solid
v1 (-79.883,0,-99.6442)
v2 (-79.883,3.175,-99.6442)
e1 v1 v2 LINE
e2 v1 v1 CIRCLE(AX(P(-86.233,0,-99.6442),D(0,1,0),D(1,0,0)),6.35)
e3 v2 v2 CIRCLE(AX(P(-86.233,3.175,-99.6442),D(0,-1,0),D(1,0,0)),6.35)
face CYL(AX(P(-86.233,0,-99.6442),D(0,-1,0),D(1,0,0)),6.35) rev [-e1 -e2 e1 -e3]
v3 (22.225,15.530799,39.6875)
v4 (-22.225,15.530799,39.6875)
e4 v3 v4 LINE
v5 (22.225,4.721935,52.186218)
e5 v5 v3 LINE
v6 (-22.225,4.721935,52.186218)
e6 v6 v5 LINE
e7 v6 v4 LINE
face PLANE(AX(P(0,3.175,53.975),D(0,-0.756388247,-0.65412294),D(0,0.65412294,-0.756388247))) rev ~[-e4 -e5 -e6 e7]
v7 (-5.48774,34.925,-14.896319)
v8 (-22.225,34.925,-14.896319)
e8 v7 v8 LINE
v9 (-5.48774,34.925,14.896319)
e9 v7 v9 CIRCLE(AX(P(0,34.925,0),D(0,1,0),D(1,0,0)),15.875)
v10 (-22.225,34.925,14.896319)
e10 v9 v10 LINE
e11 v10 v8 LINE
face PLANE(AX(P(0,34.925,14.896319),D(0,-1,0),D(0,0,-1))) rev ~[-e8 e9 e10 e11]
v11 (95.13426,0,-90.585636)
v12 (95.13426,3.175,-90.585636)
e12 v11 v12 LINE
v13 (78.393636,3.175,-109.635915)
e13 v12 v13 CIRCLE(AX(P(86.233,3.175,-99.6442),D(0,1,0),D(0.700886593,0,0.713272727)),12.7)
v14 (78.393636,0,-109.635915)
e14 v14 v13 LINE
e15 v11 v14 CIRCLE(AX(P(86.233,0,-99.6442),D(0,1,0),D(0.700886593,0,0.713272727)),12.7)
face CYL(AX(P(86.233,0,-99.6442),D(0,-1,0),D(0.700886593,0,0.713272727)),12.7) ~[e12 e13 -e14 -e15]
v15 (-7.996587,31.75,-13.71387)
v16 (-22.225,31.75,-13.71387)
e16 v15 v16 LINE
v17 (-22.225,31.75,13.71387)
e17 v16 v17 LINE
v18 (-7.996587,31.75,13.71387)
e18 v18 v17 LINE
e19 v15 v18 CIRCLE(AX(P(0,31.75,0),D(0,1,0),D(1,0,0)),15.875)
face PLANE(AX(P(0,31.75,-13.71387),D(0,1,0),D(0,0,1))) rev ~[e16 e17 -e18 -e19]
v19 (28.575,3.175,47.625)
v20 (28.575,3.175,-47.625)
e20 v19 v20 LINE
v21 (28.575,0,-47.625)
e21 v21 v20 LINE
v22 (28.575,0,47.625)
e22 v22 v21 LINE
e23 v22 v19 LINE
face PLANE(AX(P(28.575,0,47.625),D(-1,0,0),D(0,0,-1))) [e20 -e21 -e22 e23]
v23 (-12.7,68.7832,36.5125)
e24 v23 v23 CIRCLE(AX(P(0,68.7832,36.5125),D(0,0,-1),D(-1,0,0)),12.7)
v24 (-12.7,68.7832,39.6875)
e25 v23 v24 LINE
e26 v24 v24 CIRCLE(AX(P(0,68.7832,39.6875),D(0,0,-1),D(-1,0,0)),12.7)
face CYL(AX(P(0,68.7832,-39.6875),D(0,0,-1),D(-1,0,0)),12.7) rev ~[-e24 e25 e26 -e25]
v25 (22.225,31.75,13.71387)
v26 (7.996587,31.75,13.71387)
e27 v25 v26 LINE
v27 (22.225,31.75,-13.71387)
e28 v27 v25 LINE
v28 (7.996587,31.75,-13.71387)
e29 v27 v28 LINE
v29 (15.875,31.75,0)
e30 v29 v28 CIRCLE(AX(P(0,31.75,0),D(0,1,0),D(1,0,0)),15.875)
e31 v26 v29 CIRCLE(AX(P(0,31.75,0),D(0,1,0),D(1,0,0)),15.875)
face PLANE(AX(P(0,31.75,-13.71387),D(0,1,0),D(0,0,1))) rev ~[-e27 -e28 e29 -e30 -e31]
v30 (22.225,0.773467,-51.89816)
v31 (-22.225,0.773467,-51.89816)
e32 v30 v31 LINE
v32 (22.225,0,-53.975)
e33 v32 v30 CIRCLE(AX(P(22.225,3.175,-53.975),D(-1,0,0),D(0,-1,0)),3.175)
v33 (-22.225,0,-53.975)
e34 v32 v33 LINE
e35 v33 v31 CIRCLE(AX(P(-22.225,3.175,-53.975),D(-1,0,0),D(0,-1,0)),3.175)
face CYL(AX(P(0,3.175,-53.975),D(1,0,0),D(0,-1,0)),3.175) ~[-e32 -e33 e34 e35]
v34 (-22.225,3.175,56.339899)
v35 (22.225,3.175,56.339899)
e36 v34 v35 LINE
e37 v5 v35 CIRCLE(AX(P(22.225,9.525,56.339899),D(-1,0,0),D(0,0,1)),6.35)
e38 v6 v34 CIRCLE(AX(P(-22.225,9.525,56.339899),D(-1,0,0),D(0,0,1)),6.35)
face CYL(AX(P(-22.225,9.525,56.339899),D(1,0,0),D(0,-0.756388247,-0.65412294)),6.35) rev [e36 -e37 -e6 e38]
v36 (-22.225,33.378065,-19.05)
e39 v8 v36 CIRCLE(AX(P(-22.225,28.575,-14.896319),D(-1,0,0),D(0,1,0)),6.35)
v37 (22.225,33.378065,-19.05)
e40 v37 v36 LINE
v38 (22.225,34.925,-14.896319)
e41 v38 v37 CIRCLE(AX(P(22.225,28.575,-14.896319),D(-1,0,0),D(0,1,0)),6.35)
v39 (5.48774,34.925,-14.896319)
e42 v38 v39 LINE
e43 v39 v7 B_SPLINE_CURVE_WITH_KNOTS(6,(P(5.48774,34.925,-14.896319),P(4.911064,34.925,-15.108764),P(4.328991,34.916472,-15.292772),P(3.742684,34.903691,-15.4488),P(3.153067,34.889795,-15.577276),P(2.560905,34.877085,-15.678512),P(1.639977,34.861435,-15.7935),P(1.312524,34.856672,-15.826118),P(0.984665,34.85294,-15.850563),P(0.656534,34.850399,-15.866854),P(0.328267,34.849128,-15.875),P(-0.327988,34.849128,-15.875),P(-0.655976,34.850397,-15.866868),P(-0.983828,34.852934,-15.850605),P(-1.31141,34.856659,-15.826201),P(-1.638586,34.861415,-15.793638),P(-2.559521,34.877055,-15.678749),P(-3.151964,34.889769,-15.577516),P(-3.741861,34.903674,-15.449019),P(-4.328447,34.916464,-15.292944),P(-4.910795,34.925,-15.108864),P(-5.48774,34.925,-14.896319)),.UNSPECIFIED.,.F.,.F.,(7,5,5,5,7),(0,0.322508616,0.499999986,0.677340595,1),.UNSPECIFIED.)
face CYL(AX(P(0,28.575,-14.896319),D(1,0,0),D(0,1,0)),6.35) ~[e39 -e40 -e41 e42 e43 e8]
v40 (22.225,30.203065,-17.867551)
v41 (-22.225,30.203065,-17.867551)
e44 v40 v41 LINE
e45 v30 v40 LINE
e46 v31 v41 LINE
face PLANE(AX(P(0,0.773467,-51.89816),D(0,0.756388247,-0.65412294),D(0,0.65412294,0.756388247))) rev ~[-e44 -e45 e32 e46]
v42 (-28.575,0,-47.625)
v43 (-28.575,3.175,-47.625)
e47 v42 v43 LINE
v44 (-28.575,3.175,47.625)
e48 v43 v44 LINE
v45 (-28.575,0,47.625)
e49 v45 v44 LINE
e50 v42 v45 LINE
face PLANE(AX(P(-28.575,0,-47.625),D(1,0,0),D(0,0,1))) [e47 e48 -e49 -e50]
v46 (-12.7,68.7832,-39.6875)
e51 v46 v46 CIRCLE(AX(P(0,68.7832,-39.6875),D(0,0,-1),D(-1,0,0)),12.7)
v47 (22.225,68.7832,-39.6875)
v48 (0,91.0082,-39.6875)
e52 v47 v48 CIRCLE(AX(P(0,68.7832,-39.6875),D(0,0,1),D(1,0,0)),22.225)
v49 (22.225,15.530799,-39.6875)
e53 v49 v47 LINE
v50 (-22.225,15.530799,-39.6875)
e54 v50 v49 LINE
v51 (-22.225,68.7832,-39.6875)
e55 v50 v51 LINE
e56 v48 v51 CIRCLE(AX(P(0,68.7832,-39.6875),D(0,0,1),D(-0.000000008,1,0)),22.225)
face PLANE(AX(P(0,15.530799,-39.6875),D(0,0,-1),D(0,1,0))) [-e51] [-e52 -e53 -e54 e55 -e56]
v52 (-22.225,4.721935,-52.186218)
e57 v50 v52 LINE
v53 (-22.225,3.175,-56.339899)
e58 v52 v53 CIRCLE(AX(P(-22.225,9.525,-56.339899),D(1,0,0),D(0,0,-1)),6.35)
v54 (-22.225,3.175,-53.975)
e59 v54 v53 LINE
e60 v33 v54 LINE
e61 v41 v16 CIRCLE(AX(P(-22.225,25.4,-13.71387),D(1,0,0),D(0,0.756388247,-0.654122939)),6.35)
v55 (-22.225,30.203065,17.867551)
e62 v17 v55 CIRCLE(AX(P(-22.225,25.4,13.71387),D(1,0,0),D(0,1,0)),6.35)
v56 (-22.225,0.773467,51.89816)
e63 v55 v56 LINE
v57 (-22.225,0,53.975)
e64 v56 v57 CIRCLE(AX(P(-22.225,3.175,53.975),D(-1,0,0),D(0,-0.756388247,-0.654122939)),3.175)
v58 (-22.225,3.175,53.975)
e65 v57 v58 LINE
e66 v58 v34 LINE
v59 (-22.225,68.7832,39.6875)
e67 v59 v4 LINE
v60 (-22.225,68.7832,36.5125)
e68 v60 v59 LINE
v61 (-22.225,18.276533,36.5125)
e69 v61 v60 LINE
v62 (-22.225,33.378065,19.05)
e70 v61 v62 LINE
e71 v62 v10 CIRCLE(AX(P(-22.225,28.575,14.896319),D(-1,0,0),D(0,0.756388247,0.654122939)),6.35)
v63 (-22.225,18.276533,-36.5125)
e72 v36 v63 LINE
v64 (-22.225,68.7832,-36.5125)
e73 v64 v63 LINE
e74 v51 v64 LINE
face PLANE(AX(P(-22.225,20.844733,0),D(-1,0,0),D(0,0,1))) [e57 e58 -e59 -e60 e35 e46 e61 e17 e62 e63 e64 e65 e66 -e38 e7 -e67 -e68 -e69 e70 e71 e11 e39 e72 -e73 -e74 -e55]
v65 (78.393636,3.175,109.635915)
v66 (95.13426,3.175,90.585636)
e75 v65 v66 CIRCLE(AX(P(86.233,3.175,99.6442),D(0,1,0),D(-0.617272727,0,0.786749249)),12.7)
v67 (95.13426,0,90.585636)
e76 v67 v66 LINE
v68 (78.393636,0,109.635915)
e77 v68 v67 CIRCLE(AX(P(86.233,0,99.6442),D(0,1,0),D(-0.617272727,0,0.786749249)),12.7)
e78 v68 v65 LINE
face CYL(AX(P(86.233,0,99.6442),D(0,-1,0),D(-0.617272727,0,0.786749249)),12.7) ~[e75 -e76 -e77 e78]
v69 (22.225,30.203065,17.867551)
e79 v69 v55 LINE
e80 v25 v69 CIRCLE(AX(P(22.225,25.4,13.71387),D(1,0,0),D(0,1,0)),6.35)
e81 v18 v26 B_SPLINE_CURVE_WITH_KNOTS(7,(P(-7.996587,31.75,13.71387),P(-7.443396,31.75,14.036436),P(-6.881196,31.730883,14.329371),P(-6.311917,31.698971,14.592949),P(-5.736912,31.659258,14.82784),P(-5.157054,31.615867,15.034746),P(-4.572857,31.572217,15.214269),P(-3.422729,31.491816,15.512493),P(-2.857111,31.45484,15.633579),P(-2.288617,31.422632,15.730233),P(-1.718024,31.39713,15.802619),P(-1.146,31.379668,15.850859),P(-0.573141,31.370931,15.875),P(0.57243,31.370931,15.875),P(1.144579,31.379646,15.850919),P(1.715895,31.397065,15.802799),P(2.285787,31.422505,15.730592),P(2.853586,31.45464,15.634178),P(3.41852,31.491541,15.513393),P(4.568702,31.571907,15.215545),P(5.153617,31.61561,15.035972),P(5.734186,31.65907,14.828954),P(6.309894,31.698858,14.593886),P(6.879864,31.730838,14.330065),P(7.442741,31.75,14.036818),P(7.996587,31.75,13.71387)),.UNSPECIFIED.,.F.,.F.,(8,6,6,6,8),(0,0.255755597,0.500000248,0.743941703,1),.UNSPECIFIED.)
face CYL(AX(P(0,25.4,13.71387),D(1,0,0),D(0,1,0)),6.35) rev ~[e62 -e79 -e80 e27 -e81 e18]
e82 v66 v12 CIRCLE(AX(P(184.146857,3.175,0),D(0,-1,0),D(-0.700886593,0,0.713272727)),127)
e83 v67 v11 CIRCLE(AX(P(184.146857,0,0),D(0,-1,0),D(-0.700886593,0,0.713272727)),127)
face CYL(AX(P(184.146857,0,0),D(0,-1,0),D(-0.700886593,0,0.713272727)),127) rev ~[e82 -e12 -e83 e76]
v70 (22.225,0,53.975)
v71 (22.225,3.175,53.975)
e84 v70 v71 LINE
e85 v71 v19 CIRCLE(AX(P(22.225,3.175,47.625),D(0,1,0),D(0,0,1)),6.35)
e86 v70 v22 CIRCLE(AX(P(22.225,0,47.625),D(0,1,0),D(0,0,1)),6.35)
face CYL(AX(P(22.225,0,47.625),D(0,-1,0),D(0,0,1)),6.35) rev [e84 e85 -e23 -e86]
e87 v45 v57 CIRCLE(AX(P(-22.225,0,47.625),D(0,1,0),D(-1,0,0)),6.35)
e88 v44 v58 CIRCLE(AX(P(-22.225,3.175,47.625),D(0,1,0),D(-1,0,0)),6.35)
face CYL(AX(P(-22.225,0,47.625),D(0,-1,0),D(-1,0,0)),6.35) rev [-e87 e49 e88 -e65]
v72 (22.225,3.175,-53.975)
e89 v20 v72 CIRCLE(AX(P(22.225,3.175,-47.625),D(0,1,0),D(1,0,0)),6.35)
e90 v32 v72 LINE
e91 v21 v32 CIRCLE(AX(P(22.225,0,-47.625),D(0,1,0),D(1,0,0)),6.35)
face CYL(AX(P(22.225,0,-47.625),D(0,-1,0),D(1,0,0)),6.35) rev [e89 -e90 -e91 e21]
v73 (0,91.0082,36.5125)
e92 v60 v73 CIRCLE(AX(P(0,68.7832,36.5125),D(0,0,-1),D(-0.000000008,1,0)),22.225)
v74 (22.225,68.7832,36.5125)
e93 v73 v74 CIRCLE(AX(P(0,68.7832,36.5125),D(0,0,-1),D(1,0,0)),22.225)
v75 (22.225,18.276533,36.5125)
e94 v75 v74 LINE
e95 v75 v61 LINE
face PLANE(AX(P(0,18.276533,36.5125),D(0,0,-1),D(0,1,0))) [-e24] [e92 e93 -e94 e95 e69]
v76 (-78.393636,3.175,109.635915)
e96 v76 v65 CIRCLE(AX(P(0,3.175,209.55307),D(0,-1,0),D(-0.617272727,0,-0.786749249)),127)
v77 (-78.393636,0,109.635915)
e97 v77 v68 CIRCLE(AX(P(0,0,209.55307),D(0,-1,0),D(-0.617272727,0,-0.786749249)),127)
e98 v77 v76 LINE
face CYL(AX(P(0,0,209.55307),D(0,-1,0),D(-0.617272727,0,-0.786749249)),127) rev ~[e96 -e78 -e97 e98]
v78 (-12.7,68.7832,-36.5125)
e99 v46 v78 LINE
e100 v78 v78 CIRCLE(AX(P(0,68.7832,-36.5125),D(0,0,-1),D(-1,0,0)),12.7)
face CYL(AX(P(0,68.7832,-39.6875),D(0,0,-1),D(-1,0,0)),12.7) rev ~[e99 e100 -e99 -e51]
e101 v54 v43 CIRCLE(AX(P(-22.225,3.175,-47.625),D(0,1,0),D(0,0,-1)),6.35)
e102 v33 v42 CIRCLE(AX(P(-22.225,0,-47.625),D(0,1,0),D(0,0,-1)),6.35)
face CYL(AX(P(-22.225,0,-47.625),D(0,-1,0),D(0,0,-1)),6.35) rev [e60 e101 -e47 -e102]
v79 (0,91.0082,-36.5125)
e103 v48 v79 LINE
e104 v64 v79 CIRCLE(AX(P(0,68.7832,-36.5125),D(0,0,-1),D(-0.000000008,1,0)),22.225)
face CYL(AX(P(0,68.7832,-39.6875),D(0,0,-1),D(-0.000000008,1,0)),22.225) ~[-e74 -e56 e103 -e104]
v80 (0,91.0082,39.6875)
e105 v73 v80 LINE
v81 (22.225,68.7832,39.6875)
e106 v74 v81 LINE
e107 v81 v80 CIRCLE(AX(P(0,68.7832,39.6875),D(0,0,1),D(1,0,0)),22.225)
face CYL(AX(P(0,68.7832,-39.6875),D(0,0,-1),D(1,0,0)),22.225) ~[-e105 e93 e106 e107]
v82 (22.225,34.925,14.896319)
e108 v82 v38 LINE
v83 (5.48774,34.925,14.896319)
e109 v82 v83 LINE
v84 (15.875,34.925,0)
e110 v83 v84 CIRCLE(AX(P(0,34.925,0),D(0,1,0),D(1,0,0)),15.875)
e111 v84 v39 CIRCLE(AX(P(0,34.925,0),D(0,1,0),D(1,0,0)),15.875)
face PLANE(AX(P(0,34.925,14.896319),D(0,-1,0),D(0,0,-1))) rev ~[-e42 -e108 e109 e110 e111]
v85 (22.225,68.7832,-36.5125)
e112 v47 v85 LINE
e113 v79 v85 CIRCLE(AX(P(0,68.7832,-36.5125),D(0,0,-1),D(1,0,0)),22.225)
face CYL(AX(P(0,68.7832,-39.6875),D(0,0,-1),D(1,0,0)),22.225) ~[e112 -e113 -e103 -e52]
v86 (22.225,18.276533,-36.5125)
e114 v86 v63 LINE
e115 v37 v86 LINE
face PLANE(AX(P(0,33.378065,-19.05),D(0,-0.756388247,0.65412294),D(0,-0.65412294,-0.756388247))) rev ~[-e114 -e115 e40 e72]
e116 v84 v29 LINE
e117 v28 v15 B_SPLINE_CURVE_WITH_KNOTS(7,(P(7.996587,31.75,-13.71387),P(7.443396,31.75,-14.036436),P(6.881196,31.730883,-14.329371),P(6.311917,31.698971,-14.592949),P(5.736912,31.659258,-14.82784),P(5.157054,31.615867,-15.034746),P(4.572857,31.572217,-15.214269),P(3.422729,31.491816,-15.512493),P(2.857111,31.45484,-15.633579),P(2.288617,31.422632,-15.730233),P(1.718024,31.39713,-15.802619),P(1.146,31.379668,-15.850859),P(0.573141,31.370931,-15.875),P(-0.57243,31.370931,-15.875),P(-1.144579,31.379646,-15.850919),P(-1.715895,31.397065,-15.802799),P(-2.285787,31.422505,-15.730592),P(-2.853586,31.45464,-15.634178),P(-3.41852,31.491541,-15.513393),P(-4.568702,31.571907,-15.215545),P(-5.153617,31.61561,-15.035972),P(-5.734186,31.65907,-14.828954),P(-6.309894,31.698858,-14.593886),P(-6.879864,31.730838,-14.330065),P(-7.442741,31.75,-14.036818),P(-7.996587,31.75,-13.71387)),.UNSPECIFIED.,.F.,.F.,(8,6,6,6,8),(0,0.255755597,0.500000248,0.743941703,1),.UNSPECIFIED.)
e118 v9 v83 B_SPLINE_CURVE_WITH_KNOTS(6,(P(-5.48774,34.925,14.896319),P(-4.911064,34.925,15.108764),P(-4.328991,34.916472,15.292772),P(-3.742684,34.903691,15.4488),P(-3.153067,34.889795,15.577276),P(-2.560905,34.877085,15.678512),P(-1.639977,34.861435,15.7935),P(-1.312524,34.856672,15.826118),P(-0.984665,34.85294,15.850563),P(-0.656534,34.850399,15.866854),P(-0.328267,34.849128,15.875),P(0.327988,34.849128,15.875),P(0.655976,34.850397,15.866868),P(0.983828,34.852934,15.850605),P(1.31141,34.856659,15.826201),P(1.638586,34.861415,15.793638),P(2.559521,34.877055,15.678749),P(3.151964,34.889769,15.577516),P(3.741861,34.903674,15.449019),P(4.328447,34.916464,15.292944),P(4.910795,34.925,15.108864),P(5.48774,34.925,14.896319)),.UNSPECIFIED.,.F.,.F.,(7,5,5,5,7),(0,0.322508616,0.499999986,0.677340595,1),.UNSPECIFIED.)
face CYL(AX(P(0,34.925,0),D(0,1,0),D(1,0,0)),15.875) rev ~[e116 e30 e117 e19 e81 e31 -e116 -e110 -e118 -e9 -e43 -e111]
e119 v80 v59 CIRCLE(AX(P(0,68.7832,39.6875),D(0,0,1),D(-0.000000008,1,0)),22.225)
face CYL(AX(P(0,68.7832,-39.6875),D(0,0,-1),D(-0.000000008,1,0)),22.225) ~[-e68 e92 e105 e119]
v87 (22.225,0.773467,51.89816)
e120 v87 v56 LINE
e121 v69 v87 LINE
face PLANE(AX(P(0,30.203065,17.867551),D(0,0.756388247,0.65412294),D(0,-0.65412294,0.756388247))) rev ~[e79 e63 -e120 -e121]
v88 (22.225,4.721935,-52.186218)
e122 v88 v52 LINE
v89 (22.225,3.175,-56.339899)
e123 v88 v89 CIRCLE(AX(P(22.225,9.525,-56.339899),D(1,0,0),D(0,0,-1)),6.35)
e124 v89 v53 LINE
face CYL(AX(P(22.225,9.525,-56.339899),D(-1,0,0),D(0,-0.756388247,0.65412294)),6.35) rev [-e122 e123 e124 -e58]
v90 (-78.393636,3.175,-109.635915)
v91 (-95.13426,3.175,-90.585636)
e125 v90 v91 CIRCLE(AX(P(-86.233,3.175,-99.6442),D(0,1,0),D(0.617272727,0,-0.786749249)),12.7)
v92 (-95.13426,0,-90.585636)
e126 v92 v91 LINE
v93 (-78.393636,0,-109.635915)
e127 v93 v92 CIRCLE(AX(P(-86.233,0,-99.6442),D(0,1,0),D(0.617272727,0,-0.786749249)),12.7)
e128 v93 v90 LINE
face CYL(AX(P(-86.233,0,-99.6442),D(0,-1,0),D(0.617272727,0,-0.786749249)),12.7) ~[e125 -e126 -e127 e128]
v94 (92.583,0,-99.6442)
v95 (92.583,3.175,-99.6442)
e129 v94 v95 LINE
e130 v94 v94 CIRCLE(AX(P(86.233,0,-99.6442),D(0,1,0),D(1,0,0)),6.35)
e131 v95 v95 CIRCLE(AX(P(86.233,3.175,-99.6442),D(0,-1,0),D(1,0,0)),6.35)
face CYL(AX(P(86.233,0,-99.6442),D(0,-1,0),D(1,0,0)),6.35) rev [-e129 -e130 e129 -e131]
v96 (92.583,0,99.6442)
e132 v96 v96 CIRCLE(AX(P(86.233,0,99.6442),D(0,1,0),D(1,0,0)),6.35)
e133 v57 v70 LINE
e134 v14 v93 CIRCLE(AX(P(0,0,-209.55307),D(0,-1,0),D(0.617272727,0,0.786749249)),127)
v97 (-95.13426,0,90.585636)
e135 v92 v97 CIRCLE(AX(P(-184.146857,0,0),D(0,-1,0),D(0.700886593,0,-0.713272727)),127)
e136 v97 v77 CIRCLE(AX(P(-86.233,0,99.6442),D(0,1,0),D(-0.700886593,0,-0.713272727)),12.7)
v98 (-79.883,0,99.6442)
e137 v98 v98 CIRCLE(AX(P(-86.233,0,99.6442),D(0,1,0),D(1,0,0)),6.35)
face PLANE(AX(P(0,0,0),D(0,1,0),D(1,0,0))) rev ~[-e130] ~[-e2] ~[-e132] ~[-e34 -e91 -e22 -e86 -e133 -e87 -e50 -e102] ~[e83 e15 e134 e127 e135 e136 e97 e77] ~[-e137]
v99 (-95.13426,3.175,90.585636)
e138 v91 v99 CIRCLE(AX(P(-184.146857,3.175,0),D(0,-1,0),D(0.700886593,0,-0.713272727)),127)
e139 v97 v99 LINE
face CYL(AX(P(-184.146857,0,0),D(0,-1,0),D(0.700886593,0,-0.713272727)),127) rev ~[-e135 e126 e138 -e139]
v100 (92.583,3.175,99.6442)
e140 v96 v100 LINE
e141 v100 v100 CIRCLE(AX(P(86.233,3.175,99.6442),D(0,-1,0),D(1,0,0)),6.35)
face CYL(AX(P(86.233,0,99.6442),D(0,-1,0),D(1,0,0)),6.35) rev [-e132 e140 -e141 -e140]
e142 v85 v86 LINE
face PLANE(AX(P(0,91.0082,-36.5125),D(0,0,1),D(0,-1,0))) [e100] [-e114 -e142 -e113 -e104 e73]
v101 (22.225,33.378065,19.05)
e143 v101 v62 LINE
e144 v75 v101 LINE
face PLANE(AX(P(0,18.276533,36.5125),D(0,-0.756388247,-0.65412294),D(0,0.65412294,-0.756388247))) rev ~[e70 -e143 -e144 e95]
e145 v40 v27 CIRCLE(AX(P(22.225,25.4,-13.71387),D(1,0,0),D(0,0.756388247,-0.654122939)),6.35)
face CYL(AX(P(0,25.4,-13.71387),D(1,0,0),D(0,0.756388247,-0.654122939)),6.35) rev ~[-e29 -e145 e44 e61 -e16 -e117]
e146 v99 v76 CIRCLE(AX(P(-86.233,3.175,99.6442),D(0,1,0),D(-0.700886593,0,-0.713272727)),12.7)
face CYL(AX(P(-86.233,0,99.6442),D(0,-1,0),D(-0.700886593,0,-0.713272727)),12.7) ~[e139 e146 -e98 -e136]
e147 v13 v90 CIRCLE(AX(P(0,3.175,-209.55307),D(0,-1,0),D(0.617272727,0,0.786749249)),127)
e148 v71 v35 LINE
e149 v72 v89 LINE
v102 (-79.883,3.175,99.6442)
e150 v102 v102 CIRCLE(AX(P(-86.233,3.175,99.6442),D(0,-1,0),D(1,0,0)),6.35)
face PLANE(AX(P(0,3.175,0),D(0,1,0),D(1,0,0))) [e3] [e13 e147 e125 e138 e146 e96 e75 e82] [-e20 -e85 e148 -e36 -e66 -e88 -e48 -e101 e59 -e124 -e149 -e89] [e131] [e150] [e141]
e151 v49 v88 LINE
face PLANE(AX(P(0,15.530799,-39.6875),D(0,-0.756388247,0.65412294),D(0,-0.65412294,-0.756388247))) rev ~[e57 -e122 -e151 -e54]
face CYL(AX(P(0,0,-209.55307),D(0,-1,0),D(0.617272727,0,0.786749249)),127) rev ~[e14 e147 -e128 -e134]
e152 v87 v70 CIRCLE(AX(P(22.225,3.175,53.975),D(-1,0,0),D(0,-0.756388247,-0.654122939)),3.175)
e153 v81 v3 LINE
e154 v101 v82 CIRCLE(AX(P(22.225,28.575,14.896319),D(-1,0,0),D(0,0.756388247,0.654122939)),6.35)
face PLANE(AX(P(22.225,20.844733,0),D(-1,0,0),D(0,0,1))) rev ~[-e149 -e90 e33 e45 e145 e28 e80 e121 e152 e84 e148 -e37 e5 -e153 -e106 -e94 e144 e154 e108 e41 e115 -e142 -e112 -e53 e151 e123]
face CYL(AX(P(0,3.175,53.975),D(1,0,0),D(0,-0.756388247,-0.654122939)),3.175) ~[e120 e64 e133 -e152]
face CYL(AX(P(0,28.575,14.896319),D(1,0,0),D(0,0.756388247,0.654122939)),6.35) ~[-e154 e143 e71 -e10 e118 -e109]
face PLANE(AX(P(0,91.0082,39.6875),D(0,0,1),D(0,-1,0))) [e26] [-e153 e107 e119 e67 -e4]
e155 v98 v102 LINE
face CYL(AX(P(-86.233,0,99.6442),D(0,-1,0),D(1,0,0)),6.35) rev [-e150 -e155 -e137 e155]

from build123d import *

# Parameters (mm, degrees)
BOSS_EXTRUDE1_DEPTH = 3.175
BOSS_EXTRUDE3_DEPTH = 22.225
SKETCH5_R           = 15.875
CUT_EXTRUDE1_DEPTH  = 35.925
SKETCH6_R           = 12.7
CUT_EXTRUDE2_DEPTH  = 79.375
FILLET1_R           = 6.35
SKETCH1_5_R         = 6.35
HOLES_DEPTH         = 92.0082


with BuildPart() as part:
    # Sketch1 → Boss-Extrude1 (new body)
    with BuildSketch(Plane(origin=(0, 0, 0), x_dir=(1, 0, 0), z_dir=(0, 1, 0))):
        with BuildLine():
            ThreePointArc((-78.393636364, 109.635915457), (-95.772926059, 108.027505481), (-95.134259734, 90.585636364))
            ThreePointArc((-95.134259734, 90.585636364), (-57.14685707, 0), (-95.134259734, -90.585636364))
            ThreePointArc((-95.134259734, -90.585636364), (-95.772926059, -108.027505481), (-78.393636364, -109.635915457))
            ThreePointArc((-78.393636364, -109.635915457), (0, -82.553070029), (78.393636364, -109.635915457))
            ThreePointArc((78.393636364, -109.635915457), (95.772926059, -108.027505481), (95.134259734, -90.585636364))
            ThreePointArc((95.134259734, -90.585636364), (57.14685707, 0), (95.134259734, 90.585636364))
            ThreePointArc((95.134259734, 90.585636364), (95.772926059, 108.027505481), (78.393636364, 109.635915457))
            ThreePointArc((78.393636364, 109.635915457), (0, 82.553070029), (-78.393636364, 109.635915457))
        make_face()
        with BuildLine():
            Line((-22.225, -53.975), (22.225, -53.975))
            ThreePointArc((22.225, -53.975), (26.715128061, -52.115128061), (28.575, -47.625))
            Line((28.575, -47.625), (28.575, 47.625))
            ThreePointArc((28.575, 47.625), (26.715128061, 52.115128061), (22.225, 53.975))
            Line((22.225, 53.975), (-22.225, 53.975))
            ThreePointArc((-22.225, 53.975), (-26.715128061, 52.115128061), (-28.575, 47.625))
            Line((-28.575, 47.625), (-28.575, -47.625))
            ThreePointArc((-28.575, -47.625), (-26.715128061, -52.115128061), (-22.225, -53.975))
        make_face(mode=Mode.SUBTRACT)
    extrude(amount=BOSS_EXTRUDE1_DEPTH)

    # Sketch4 → Boss-Extrude3 (add, symmetric)
    with BuildSketch(Plane(origin=(0, 0, 0), x_dir=(0, 0, -1), z_dir=(1, 0, 0))):
        with BuildLine():
            ThreePointArc((53.975, 0), (52.866902818, 0.199643612), (51.898159667, 0.773467316))
            Line((51.898159667, 0.773467316), (17.867550541, 30.203065368))
            ThreePointArc((17.867550541, 30.203065368), (15.930064238, 31.350712776), (13.713869875, 31.75))
            Line((13.713869875, 31.75), (-13.713869875, 31.75))
            ThreePointArc((-13.713869875, 31.75), (-15.930064238, 31.350712776), (-17.867550541, 30.203065368))
            Line((-17.867550541, 30.203065368), (-51.898159667, 0.773467316))
            ThreePointArc((-51.898159667, 0.773467316), (-52.866902818, 0.199643612), (-53.975, 0))
            Line((-53.975, 0), (-53.975, 3.175))
            Line((-53.975, 3.175), (-19.05, 33.378065368))
            ThreePointArc((-19.05, 33.378065368), (-17.112513698, 34.525712776), (-14.896319334, 34.925))
            Line((-14.896319334, 34.925), (14.896319334, 34.925))
            ThreePointArc((14.896319334, 34.925), (17.112513698, 34.525712776), (19.05, 33.378065368))
            Line((19.05, 33.378065368), (53.975, 3.175))
            Line((53.975, 3.175), (53.975, 0))
        make_face()
        Polygon((-39.6875, 91.0082), (-39.6875, 15.530799469), (-36.5125, 18.276532684), (-36.5125, 91.0082), align=None)
        Polygon((36.5125, 91.0082), (36.5125, 18.276532684), (39.6875, 15.530799469), (39.6875, 91.0082), align=None)
    extrude(amount=BOSS_EXTRUDE3_DEPTH, both=True)

    # Sketch5 → Cut-Extrude1 (cut, through all)
    with BuildSketch(Plane(origin=(0, 34.925, 0), x_dir=(1, 0, 0), z_dir=(0, 1, 0))):
        Circle(SKETCH5_R)
    extrude(amount=-CUT_EXTRUDE1_DEPTH, mode=Mode.SUBTRACT)

    # Sketch6 → Cut-Extrude2 (cut)
    with BuildSketch(Plane(origin=(0, 0, -39.6875), x_dir=(-1, 0, 0), z_dir=(0, 0, -1))):
        with Locations((0, 68.7832)):
            Circle(SKETCH6_R)
        with BuildLine():
            ThreePointArc((-22.225, 68.7832), (-15.715448152, 84.498648271), (1.69e-07, 91.0082))
            Line((1.69e-07, 91.0082), (-22.225, 91.0082))
            Line((-22.225, 91.0082), (-22.225, 68.7832))
        make_face()
        with BuildLine():
            Line((22.225, 68.7832), (22.225, 91.0082))
            Line((22.225, 91.0082), (1.69e-07, 91.0082))
            ThreePointArc((1.69e-07, 91.0082), (15.715448271, 84.498648152), (22.225, 68.7832))
        make_face()
    extrude(amount=-CUT_EXTRUDE2_DEPTH, mode=Mode.SUBTRACT)

    # Fillet1
    fillet1_edges = [part.edges().sort_by_distance(p)[0] for p in [
        (0, 3.175, -53.975),
        (0, 3.175, 53.975),
    ]]
    fillet(fillet1_edges, radius=FILLET1_R)

    # Sketch1<5> → holes (cut, through all)
    with BuildSketch(Plane(origin=(0, 0, 0), x_dir=(1, 0, 0), z_dir=(0, 1, 0))):
        with Locations((-86.233, 99.6442)):
            Circle(SKETCH1_5_R)
        with Locations((86.233, 99.6442)):
            Circle(SKETCH1_5_R)
        with Locations((86.233, -99.6442)):
            Circle(SKETCH1_5_R)
        with Locations((-86.233, -99.6442)):
            Circle(SKETCH1_5_R)
    extrude(amount=HOLES_DEPTH, mode=Mode.SUBTRACT)


solid = part.part
